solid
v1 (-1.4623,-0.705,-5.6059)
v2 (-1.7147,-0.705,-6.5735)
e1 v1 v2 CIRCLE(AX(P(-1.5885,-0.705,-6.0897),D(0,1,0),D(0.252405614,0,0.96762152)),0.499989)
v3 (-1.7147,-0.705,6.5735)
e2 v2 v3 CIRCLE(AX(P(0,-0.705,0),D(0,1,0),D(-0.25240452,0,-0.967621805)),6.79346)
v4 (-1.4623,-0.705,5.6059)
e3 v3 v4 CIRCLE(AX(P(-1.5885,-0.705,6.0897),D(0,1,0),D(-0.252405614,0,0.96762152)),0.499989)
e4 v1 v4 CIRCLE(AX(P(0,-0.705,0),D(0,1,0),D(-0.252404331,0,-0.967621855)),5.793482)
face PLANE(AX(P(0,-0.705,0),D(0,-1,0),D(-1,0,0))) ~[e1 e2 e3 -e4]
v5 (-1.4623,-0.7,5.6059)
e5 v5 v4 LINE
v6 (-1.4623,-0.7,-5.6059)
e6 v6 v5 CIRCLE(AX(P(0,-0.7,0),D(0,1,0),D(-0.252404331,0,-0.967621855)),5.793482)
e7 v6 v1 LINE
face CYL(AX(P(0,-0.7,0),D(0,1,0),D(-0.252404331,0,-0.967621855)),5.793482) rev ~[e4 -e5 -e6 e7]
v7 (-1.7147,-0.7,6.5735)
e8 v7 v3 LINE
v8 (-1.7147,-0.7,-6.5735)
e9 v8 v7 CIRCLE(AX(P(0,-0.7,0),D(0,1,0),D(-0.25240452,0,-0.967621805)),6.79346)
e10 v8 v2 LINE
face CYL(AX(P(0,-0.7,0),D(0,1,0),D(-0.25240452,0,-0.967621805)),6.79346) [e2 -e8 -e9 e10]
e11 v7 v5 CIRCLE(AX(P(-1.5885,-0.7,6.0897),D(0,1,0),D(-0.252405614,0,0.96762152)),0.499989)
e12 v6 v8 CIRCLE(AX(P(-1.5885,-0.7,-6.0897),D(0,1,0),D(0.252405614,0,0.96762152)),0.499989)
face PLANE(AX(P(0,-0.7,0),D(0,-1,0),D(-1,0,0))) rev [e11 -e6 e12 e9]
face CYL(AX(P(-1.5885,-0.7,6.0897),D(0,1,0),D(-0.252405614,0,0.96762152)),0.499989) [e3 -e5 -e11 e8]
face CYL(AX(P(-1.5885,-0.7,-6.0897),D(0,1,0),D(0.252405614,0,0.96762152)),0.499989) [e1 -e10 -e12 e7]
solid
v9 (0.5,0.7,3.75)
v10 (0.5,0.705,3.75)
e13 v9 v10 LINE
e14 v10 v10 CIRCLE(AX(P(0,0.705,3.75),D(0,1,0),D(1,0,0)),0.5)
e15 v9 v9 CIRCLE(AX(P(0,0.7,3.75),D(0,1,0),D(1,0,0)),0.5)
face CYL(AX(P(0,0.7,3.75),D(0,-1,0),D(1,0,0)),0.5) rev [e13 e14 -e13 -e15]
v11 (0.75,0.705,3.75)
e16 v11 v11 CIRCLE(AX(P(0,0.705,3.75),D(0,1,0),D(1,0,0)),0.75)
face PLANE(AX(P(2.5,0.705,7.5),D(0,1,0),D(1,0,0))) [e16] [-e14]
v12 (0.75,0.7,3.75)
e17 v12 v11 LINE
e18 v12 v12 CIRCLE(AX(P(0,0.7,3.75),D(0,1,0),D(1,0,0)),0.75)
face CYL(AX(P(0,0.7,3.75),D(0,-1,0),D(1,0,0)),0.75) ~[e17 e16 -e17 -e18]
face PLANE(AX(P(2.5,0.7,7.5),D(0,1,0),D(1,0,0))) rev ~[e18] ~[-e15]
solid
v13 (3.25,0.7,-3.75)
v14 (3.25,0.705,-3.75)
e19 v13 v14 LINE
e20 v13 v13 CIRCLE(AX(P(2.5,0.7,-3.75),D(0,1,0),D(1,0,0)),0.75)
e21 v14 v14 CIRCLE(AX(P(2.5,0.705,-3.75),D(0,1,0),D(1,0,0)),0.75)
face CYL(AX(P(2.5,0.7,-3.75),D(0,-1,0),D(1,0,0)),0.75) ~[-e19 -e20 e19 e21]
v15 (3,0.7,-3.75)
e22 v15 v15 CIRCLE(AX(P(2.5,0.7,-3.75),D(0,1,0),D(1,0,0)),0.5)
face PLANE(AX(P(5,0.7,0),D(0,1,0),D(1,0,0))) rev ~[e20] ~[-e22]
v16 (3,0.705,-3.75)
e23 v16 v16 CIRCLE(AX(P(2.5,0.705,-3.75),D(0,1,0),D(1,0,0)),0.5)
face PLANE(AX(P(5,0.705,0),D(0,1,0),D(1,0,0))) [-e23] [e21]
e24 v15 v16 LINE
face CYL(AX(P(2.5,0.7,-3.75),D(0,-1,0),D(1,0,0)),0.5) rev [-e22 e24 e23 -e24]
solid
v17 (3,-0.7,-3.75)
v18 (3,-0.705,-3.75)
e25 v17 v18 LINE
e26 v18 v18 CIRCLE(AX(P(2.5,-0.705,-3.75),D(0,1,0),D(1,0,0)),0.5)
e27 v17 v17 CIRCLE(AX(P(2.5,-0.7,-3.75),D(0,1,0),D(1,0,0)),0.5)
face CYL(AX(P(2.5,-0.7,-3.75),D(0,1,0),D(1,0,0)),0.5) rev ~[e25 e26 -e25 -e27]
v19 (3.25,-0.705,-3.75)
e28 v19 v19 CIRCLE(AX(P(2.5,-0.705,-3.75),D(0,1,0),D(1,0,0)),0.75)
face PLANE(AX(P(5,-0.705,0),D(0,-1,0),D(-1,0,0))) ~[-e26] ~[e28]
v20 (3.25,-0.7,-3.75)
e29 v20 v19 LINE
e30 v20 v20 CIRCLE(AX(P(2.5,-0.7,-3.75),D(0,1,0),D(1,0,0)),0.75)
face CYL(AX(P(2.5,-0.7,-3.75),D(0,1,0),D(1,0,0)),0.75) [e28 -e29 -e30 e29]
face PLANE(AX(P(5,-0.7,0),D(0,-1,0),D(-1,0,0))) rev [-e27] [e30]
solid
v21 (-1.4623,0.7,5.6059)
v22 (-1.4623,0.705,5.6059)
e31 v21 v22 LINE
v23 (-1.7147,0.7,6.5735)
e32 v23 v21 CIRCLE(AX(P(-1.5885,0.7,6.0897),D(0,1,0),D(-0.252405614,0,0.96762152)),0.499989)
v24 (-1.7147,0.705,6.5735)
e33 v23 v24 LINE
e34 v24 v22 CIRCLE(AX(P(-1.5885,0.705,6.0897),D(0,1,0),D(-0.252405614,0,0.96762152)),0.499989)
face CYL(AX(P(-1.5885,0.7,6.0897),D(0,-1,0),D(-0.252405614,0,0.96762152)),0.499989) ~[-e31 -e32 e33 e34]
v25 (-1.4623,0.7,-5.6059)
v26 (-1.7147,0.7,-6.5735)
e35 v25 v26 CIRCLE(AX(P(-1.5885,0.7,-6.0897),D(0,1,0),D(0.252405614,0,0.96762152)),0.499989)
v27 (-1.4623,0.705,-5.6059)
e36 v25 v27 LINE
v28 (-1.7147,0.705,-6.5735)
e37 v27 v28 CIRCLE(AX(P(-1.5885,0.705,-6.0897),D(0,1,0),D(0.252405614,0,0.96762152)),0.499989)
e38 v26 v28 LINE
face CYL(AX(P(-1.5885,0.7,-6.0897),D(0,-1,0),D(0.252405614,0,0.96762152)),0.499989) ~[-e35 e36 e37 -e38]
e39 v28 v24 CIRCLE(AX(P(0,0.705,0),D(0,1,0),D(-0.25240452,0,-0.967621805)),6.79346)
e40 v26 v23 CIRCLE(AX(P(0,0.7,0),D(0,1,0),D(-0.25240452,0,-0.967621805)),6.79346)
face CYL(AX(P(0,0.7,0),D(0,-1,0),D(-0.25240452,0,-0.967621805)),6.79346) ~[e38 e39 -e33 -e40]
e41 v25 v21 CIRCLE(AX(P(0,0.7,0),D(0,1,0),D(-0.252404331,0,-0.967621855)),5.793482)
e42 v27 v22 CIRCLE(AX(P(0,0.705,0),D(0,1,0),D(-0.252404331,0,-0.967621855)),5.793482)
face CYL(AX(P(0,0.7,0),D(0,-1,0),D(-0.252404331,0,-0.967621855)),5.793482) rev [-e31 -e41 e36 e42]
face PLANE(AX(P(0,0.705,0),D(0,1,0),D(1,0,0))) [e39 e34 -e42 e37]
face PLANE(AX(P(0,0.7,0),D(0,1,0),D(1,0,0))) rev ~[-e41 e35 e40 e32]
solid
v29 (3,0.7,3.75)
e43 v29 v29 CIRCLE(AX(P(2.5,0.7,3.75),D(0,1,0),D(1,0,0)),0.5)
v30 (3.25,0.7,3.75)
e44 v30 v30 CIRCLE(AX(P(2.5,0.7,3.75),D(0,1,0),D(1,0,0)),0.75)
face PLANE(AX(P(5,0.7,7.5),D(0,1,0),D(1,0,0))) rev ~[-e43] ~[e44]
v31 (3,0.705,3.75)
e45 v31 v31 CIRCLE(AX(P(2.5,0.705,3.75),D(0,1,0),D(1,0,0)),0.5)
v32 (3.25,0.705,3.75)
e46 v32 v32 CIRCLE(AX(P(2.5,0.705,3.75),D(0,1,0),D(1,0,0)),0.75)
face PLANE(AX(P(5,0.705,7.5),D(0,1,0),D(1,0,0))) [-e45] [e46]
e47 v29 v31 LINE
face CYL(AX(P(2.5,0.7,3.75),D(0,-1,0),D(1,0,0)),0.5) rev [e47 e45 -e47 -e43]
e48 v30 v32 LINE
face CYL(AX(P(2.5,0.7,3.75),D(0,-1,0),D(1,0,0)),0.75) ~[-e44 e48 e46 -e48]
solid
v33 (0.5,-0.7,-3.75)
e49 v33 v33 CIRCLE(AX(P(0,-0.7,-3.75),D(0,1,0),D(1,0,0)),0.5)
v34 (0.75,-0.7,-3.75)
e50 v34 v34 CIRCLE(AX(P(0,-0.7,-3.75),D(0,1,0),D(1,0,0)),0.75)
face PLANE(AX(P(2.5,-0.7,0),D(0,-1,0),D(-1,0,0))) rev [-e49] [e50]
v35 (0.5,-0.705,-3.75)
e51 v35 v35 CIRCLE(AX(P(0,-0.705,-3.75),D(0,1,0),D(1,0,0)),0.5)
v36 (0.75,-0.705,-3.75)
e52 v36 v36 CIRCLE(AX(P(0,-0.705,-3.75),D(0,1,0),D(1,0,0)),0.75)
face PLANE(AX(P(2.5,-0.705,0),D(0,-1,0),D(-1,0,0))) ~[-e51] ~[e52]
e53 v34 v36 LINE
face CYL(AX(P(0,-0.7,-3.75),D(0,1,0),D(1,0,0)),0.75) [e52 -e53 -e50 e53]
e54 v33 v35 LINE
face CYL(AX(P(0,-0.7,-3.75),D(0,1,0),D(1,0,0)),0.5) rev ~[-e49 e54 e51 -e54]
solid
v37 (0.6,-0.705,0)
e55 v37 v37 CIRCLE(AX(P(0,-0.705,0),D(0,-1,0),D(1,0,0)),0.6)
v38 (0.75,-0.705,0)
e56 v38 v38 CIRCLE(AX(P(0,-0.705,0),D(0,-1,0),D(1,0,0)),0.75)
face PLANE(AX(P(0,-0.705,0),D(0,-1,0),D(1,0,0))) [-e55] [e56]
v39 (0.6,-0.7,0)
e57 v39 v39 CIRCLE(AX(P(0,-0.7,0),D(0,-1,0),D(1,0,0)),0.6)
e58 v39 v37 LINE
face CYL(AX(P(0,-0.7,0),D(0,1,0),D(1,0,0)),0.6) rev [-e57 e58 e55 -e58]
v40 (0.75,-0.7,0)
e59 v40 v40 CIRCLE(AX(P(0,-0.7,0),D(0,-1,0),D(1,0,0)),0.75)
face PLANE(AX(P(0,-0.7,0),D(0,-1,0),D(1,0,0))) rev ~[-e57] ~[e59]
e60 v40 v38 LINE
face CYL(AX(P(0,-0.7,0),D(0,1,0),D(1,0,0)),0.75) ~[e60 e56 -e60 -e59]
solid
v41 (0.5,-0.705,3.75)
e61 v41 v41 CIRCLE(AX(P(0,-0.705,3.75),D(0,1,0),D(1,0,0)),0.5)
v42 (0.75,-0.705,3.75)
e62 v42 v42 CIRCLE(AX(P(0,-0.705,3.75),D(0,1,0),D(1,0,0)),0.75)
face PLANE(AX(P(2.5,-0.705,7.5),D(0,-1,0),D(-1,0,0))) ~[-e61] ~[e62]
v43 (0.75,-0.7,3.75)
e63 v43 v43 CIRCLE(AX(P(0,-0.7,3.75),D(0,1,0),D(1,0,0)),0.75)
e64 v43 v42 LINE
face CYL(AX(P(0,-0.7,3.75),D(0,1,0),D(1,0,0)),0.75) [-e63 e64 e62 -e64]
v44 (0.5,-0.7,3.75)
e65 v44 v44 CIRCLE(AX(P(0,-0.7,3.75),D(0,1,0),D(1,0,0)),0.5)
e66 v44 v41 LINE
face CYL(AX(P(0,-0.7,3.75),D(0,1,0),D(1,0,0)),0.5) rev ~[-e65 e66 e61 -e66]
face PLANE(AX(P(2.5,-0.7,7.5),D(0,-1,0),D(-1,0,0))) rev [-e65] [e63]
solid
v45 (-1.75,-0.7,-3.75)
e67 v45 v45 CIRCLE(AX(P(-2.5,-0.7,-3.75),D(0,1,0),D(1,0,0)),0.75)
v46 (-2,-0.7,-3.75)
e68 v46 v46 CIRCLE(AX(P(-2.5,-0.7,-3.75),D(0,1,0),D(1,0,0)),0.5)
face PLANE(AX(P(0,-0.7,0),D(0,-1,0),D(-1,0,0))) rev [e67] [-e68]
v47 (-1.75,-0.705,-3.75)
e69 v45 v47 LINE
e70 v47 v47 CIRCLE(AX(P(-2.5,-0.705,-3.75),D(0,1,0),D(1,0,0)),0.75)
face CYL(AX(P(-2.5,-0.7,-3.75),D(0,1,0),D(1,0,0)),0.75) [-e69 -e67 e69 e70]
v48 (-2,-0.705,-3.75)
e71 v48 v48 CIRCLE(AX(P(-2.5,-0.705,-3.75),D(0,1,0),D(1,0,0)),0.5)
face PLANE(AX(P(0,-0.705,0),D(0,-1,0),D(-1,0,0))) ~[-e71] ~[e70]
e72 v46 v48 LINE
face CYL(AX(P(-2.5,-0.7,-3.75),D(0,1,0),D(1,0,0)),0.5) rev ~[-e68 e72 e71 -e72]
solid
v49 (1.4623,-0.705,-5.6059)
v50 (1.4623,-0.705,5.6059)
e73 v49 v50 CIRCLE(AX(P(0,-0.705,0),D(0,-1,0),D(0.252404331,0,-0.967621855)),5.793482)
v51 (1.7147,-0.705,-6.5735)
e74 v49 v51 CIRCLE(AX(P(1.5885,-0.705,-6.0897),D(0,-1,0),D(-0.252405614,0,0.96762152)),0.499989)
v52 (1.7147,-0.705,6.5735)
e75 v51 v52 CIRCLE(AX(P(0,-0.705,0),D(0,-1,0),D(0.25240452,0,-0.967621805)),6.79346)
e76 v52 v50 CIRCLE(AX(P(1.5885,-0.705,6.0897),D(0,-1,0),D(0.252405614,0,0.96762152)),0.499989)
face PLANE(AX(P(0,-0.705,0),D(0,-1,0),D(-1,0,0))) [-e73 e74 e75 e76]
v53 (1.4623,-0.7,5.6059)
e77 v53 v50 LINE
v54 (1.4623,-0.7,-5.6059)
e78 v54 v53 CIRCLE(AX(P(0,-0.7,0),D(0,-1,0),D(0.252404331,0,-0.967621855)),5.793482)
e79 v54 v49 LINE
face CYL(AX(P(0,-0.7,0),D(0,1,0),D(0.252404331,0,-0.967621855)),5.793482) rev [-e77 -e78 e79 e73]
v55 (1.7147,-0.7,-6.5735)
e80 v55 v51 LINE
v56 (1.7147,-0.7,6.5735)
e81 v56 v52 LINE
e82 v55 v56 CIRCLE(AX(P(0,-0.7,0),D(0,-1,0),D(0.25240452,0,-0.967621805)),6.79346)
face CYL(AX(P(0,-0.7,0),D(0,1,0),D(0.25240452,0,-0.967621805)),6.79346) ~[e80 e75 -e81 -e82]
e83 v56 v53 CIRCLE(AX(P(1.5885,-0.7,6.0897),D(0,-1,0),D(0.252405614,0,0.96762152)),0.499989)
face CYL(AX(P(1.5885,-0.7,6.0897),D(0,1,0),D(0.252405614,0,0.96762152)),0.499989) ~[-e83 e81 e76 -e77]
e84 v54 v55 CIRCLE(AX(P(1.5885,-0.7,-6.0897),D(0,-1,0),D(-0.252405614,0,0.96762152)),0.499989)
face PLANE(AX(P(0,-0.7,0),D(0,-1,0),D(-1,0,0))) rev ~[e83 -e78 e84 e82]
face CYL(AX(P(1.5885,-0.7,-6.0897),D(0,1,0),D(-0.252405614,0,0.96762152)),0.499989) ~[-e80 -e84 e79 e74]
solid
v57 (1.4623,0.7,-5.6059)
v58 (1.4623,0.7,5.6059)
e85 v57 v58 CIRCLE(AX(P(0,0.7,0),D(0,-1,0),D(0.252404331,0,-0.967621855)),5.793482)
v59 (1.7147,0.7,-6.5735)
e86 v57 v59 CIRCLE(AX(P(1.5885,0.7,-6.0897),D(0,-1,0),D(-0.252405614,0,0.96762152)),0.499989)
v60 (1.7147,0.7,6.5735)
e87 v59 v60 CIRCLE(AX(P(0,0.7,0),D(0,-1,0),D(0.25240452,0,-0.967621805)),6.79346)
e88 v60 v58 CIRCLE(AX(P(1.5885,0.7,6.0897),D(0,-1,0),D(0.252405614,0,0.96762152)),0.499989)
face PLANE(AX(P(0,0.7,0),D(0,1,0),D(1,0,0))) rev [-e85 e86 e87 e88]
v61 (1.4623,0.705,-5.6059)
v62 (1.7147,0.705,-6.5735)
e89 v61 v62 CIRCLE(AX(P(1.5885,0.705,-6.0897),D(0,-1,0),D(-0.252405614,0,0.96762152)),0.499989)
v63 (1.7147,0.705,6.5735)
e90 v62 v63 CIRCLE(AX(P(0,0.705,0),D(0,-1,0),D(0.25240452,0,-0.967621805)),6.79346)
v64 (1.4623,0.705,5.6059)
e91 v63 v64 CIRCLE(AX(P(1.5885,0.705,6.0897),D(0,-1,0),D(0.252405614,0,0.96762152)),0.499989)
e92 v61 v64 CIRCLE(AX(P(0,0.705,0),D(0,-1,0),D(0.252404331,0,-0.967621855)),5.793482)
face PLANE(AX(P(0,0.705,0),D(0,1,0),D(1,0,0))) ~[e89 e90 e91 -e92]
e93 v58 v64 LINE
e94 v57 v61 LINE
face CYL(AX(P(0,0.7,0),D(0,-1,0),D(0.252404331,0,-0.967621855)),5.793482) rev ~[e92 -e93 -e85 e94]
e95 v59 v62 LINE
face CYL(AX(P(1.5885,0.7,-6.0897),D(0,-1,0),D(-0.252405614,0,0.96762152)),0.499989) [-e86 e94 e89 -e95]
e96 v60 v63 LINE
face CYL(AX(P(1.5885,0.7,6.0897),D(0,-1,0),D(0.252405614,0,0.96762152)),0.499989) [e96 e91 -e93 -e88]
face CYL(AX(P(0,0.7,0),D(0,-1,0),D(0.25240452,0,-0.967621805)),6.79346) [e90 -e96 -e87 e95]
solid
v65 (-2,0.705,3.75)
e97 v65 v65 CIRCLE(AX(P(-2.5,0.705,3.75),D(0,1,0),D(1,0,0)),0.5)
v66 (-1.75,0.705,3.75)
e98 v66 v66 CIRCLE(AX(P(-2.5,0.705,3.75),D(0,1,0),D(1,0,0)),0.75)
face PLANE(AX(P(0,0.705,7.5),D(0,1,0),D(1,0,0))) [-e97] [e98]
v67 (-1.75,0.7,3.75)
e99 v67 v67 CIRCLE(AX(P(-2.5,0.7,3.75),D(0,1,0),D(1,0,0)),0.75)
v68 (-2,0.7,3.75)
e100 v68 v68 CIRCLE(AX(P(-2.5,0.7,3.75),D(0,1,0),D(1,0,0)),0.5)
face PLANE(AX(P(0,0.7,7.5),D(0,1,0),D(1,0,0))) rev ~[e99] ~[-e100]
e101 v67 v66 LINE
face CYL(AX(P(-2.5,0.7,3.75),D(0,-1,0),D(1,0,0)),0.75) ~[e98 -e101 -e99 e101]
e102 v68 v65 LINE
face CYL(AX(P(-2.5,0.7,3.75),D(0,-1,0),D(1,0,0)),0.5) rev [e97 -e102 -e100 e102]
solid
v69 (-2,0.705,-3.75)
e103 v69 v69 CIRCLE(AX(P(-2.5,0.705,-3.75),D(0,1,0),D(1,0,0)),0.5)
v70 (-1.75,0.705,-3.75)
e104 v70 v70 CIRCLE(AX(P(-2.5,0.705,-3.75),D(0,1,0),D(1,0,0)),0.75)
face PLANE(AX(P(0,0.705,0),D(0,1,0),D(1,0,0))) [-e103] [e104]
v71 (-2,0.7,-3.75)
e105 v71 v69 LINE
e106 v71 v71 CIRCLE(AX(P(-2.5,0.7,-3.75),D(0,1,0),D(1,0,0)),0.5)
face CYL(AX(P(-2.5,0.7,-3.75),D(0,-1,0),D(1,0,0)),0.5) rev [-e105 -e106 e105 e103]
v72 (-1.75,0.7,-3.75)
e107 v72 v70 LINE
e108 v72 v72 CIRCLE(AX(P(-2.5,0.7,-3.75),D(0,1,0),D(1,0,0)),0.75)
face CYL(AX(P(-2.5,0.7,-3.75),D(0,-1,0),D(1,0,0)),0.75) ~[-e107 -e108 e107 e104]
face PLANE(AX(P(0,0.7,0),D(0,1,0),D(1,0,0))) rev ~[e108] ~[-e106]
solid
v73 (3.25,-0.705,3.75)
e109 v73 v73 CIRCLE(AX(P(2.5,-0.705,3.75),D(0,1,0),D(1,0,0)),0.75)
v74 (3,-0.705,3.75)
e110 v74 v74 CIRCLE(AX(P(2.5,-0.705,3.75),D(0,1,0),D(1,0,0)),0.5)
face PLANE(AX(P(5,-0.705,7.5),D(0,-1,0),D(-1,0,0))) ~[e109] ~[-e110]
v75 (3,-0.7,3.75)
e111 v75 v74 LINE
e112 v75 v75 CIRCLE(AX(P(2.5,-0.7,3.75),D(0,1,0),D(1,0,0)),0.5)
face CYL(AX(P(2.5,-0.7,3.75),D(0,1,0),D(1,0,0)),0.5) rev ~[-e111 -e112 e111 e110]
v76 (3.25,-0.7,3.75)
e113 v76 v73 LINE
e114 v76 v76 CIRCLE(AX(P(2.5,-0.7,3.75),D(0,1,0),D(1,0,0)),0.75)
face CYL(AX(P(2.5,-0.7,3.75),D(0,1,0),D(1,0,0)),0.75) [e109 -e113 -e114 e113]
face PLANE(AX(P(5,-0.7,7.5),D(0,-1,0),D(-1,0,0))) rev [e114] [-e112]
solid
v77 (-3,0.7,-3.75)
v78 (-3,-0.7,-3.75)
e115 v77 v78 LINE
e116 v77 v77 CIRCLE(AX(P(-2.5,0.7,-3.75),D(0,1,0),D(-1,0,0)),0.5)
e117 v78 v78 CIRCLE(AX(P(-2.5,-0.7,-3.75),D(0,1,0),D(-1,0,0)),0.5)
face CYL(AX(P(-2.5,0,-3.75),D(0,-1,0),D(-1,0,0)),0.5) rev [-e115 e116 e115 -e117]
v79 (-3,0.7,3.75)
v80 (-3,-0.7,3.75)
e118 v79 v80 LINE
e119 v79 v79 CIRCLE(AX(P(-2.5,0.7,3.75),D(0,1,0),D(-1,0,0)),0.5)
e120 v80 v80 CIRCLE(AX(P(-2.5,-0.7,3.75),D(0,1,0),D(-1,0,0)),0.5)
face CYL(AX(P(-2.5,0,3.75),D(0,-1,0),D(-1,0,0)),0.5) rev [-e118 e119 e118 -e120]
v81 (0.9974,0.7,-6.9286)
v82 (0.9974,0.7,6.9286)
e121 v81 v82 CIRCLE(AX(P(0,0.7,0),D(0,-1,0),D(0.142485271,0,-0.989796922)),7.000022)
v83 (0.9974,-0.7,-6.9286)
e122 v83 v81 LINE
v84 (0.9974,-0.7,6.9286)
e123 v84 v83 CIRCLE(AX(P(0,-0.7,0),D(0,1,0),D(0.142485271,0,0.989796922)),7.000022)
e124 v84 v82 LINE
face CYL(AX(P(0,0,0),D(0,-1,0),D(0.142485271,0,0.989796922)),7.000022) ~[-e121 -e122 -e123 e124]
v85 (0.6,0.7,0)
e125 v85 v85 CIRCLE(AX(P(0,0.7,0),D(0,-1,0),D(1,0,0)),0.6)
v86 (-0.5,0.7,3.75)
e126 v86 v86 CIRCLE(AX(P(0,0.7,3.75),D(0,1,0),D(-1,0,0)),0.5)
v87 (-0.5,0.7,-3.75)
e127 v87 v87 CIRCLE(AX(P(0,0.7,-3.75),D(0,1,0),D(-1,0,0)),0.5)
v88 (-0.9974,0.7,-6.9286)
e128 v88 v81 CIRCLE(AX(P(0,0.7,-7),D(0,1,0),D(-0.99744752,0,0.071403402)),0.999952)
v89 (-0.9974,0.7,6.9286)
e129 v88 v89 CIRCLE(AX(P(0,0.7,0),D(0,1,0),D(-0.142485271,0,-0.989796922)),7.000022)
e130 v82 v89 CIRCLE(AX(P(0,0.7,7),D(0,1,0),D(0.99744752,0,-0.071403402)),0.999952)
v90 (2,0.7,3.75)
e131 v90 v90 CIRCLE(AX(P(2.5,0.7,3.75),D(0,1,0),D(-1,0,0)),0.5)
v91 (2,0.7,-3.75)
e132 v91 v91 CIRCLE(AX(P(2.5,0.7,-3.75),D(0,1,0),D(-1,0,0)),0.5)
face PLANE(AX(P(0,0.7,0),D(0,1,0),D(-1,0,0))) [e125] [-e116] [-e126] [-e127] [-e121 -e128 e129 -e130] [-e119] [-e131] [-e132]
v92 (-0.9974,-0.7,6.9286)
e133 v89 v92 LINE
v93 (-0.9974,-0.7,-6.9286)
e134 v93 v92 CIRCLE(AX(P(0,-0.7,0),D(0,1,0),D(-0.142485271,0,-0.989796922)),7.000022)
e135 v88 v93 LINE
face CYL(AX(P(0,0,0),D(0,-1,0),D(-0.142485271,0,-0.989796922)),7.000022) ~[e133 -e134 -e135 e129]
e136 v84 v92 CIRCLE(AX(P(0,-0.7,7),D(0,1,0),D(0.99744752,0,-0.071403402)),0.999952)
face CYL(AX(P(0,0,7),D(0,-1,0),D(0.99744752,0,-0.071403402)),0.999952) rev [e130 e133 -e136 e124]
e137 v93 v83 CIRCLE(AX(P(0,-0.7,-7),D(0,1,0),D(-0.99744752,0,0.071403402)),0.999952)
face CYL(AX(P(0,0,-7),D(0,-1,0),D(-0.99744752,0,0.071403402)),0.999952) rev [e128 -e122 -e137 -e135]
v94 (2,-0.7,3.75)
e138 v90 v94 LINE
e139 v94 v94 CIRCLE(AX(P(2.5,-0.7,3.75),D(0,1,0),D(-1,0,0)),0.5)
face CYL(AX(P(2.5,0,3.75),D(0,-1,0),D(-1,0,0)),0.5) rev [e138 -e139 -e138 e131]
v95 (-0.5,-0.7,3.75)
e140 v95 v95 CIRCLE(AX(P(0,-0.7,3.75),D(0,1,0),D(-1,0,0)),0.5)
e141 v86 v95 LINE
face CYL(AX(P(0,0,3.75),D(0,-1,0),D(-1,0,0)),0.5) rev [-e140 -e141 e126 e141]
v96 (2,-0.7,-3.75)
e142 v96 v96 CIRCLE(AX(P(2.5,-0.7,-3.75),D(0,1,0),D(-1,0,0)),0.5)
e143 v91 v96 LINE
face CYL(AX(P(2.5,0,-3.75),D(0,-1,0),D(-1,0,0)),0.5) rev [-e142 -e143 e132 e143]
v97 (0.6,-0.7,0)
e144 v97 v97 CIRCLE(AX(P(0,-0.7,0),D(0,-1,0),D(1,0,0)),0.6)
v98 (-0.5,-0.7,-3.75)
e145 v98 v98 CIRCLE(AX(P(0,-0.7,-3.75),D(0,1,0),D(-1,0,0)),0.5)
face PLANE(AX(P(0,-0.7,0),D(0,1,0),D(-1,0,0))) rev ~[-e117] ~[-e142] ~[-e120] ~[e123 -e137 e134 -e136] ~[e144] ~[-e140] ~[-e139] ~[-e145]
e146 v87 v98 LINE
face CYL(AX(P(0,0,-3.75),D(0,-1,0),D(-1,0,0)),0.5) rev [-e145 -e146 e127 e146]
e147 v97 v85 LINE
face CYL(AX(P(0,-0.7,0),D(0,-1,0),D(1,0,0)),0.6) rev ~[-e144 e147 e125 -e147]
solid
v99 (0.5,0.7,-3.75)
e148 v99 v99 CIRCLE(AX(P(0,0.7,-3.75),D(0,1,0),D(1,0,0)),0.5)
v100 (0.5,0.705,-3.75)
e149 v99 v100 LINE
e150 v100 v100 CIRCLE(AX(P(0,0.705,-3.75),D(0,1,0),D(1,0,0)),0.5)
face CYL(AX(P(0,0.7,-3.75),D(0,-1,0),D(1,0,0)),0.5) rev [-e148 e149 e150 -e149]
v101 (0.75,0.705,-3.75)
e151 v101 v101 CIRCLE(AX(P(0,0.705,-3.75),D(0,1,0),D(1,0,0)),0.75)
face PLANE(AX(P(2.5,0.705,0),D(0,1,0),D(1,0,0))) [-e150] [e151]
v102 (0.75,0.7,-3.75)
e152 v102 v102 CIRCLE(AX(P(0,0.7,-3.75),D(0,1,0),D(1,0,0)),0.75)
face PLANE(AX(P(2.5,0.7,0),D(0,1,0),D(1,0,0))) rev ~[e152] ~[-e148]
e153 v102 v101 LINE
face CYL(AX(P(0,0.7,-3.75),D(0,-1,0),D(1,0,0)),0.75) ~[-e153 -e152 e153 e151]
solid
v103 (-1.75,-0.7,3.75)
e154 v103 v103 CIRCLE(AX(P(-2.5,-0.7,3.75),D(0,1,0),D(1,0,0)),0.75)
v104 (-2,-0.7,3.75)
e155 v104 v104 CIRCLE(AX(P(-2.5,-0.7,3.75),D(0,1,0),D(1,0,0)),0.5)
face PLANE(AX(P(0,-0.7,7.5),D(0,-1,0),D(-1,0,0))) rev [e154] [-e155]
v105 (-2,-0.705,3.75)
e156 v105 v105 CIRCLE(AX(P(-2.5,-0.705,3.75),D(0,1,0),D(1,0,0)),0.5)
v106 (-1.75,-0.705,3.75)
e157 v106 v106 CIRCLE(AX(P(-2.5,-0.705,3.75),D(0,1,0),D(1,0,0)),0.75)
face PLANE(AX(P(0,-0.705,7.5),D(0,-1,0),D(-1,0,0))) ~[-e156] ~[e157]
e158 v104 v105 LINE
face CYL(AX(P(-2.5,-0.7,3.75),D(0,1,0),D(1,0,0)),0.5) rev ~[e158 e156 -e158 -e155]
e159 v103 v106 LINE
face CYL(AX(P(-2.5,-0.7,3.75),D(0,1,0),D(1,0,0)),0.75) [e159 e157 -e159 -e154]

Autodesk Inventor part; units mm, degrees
ref_plane "YZ Plane" through (0, 0, 0) normal (1, 0, 0) x (0, 1, 0)
ref_plane "XZ Plane" through (0, 0, 0) normal (0, 1, 0) x (-1, 0, 0)
ref_plane "XY Plane" through (0, 0, 0) normal (0, 0, 1) x (1, 0, 0)
sketch "Sketch1" plane through (0, 0, 0) normal (0, 1, 0) x (-1, 0, 0)
  circle A0 centre (2.5, -3.75) radius 0.5
  line L0 (4.5047, -13.3747) -> (-4.6881, -13.3747) construction
  circle A1 centre (0, -3.75) radius 0.5
  circle A2 centre (-2.5, -3.75) radius 0.5
  circle A3 centre (2.5, 3.75) radius 0.5
  circle A4 centre (0, 3.75) radius 0.5
  circle A5 centre (-2.5, 3.75) radius 0.5
  arc A6 (-0.9974, 6.9286) -> (0.9974, 6.9286) centre (0, 7) ccw
  arc A7 (0.9974, -6.9286) -> (-0.9974, -6.9286) centre (0, -7) ccw
  arc A8 (-0.9974, 6.9286) -> (-0.9974, -6.9286) centre (0, 0) ccw
  arc A9 (0.9974, -6.9286) -> (0.9974, 6.9286) centre (0, 0) ccw
  arc A10 (-0.9974, 6.9286) -> (-6.9286, 0.9974) centre (0, 0) ccw
  dimension "d3" = 1
  dimension "d6" = 2.5
  dimension "d16" = 1
  dimension "d17" = 2.5
extrude "Extrusion1" add sketch "Sketch1" along normal mid plane 1.4
sketch "Sketch2" plane through (0, -0.7, 0) normal (0, -1, 0) x (1, 0, 0)
  circle A0 centre (0, 0) radius 0.6
  dimension "d20" = 1.2
extrude "Extrusion2" cut sketch "Sketch2" against normal through all
sketch "Sketch3" plane through (0, 0.7, 0) normal (0, 1, 0) x (1, 0, 0)
  circle A0 centre (-2.5, 3.75) radius 0.5 projected
  circle A1 centre (-2.5, 3.75) radius 0.75
  point P0 (0, 0)
  dimension "d23" = 1.5
extrude "Extrusion3" add sketch "Sketch3" along normal blind 0.005 separate body
pattern_linear "Rectangular Pattern1" count 3 spacing 2.5 along (1, 0, 0) count 2 spacing 7.5 along (0, 0, 1) of "Extrusion3" bodies 2
mirror "Mirror1" about plane through (0, 0, 0) normal (0, 1, 0) of "Extrusion3", "Rectangular Pattern1" bodies 2
sketch "Sketch4" plane through (0, 0.7, 0) normal (0, 1, 0) x (1, 0, 0)
  arc A0 (0.9974, -6.9286) -> (0.9974, 6.9286) centre (0, 0) ccw projected
  arc A1 (-0.9974, 6.9286) -> (-0.9974, -6.9286) centre (0, 0) ccw projected
  arc A2 (-1.7147, 6.5735) -> (-1.7147, -6.5735) centre (0, 0) ccw
  line L0 (-9.685, 0) -> (-13.1898, 0) construction
  arc A3 (-1.4623, 5.6059) -> (-1.4623, -5.6059) centre (0, 0) ccw
  arc A4 (-1.7147, -6.5735) -> (-1.4623, -5.6059) centre (-1.5885, -6.0897) ccw
  line L1 (0, 11.7896) -> (0, 9.2828) construction
  arc A5 (-1.4623, 5.6059) -> (-1.7147, 6.5735) centre (-1.5885, 6.0897) ccw
  point P0 (-6.9286, 0.9974)
  point P1 (6.9286, -0.9974)
  dimension "d32" = 1
extrude "Extrusion4" add sketch "Sketch4" along normal blind 0.005 separate body
mirror "Mirror2" about plane through (0, 0, 0) normal (1, 0, 0) of "Extrusion4" bodies 3
mirror "Mirror3" about plane through (0, 0, 0) normal (0, 1, 0) of "Extrusion4", "Mirror2" bodies 3
sketch "Sketch5" plane through (0, -0.7, 0) normal (0, -1, 0) x (1, 0, 0)
  circle A0 centre (0, 0) radius 0.6 projected
  circle A1 centre (0, 0) radius 0.75
  dimension "d35" = 1.5
extrude "Extrusion5" add sketch "Sketch5" along normal blind 0.005 separate body
properties part number "INMP441 MEMS I2S MICROPHONE PCB"
